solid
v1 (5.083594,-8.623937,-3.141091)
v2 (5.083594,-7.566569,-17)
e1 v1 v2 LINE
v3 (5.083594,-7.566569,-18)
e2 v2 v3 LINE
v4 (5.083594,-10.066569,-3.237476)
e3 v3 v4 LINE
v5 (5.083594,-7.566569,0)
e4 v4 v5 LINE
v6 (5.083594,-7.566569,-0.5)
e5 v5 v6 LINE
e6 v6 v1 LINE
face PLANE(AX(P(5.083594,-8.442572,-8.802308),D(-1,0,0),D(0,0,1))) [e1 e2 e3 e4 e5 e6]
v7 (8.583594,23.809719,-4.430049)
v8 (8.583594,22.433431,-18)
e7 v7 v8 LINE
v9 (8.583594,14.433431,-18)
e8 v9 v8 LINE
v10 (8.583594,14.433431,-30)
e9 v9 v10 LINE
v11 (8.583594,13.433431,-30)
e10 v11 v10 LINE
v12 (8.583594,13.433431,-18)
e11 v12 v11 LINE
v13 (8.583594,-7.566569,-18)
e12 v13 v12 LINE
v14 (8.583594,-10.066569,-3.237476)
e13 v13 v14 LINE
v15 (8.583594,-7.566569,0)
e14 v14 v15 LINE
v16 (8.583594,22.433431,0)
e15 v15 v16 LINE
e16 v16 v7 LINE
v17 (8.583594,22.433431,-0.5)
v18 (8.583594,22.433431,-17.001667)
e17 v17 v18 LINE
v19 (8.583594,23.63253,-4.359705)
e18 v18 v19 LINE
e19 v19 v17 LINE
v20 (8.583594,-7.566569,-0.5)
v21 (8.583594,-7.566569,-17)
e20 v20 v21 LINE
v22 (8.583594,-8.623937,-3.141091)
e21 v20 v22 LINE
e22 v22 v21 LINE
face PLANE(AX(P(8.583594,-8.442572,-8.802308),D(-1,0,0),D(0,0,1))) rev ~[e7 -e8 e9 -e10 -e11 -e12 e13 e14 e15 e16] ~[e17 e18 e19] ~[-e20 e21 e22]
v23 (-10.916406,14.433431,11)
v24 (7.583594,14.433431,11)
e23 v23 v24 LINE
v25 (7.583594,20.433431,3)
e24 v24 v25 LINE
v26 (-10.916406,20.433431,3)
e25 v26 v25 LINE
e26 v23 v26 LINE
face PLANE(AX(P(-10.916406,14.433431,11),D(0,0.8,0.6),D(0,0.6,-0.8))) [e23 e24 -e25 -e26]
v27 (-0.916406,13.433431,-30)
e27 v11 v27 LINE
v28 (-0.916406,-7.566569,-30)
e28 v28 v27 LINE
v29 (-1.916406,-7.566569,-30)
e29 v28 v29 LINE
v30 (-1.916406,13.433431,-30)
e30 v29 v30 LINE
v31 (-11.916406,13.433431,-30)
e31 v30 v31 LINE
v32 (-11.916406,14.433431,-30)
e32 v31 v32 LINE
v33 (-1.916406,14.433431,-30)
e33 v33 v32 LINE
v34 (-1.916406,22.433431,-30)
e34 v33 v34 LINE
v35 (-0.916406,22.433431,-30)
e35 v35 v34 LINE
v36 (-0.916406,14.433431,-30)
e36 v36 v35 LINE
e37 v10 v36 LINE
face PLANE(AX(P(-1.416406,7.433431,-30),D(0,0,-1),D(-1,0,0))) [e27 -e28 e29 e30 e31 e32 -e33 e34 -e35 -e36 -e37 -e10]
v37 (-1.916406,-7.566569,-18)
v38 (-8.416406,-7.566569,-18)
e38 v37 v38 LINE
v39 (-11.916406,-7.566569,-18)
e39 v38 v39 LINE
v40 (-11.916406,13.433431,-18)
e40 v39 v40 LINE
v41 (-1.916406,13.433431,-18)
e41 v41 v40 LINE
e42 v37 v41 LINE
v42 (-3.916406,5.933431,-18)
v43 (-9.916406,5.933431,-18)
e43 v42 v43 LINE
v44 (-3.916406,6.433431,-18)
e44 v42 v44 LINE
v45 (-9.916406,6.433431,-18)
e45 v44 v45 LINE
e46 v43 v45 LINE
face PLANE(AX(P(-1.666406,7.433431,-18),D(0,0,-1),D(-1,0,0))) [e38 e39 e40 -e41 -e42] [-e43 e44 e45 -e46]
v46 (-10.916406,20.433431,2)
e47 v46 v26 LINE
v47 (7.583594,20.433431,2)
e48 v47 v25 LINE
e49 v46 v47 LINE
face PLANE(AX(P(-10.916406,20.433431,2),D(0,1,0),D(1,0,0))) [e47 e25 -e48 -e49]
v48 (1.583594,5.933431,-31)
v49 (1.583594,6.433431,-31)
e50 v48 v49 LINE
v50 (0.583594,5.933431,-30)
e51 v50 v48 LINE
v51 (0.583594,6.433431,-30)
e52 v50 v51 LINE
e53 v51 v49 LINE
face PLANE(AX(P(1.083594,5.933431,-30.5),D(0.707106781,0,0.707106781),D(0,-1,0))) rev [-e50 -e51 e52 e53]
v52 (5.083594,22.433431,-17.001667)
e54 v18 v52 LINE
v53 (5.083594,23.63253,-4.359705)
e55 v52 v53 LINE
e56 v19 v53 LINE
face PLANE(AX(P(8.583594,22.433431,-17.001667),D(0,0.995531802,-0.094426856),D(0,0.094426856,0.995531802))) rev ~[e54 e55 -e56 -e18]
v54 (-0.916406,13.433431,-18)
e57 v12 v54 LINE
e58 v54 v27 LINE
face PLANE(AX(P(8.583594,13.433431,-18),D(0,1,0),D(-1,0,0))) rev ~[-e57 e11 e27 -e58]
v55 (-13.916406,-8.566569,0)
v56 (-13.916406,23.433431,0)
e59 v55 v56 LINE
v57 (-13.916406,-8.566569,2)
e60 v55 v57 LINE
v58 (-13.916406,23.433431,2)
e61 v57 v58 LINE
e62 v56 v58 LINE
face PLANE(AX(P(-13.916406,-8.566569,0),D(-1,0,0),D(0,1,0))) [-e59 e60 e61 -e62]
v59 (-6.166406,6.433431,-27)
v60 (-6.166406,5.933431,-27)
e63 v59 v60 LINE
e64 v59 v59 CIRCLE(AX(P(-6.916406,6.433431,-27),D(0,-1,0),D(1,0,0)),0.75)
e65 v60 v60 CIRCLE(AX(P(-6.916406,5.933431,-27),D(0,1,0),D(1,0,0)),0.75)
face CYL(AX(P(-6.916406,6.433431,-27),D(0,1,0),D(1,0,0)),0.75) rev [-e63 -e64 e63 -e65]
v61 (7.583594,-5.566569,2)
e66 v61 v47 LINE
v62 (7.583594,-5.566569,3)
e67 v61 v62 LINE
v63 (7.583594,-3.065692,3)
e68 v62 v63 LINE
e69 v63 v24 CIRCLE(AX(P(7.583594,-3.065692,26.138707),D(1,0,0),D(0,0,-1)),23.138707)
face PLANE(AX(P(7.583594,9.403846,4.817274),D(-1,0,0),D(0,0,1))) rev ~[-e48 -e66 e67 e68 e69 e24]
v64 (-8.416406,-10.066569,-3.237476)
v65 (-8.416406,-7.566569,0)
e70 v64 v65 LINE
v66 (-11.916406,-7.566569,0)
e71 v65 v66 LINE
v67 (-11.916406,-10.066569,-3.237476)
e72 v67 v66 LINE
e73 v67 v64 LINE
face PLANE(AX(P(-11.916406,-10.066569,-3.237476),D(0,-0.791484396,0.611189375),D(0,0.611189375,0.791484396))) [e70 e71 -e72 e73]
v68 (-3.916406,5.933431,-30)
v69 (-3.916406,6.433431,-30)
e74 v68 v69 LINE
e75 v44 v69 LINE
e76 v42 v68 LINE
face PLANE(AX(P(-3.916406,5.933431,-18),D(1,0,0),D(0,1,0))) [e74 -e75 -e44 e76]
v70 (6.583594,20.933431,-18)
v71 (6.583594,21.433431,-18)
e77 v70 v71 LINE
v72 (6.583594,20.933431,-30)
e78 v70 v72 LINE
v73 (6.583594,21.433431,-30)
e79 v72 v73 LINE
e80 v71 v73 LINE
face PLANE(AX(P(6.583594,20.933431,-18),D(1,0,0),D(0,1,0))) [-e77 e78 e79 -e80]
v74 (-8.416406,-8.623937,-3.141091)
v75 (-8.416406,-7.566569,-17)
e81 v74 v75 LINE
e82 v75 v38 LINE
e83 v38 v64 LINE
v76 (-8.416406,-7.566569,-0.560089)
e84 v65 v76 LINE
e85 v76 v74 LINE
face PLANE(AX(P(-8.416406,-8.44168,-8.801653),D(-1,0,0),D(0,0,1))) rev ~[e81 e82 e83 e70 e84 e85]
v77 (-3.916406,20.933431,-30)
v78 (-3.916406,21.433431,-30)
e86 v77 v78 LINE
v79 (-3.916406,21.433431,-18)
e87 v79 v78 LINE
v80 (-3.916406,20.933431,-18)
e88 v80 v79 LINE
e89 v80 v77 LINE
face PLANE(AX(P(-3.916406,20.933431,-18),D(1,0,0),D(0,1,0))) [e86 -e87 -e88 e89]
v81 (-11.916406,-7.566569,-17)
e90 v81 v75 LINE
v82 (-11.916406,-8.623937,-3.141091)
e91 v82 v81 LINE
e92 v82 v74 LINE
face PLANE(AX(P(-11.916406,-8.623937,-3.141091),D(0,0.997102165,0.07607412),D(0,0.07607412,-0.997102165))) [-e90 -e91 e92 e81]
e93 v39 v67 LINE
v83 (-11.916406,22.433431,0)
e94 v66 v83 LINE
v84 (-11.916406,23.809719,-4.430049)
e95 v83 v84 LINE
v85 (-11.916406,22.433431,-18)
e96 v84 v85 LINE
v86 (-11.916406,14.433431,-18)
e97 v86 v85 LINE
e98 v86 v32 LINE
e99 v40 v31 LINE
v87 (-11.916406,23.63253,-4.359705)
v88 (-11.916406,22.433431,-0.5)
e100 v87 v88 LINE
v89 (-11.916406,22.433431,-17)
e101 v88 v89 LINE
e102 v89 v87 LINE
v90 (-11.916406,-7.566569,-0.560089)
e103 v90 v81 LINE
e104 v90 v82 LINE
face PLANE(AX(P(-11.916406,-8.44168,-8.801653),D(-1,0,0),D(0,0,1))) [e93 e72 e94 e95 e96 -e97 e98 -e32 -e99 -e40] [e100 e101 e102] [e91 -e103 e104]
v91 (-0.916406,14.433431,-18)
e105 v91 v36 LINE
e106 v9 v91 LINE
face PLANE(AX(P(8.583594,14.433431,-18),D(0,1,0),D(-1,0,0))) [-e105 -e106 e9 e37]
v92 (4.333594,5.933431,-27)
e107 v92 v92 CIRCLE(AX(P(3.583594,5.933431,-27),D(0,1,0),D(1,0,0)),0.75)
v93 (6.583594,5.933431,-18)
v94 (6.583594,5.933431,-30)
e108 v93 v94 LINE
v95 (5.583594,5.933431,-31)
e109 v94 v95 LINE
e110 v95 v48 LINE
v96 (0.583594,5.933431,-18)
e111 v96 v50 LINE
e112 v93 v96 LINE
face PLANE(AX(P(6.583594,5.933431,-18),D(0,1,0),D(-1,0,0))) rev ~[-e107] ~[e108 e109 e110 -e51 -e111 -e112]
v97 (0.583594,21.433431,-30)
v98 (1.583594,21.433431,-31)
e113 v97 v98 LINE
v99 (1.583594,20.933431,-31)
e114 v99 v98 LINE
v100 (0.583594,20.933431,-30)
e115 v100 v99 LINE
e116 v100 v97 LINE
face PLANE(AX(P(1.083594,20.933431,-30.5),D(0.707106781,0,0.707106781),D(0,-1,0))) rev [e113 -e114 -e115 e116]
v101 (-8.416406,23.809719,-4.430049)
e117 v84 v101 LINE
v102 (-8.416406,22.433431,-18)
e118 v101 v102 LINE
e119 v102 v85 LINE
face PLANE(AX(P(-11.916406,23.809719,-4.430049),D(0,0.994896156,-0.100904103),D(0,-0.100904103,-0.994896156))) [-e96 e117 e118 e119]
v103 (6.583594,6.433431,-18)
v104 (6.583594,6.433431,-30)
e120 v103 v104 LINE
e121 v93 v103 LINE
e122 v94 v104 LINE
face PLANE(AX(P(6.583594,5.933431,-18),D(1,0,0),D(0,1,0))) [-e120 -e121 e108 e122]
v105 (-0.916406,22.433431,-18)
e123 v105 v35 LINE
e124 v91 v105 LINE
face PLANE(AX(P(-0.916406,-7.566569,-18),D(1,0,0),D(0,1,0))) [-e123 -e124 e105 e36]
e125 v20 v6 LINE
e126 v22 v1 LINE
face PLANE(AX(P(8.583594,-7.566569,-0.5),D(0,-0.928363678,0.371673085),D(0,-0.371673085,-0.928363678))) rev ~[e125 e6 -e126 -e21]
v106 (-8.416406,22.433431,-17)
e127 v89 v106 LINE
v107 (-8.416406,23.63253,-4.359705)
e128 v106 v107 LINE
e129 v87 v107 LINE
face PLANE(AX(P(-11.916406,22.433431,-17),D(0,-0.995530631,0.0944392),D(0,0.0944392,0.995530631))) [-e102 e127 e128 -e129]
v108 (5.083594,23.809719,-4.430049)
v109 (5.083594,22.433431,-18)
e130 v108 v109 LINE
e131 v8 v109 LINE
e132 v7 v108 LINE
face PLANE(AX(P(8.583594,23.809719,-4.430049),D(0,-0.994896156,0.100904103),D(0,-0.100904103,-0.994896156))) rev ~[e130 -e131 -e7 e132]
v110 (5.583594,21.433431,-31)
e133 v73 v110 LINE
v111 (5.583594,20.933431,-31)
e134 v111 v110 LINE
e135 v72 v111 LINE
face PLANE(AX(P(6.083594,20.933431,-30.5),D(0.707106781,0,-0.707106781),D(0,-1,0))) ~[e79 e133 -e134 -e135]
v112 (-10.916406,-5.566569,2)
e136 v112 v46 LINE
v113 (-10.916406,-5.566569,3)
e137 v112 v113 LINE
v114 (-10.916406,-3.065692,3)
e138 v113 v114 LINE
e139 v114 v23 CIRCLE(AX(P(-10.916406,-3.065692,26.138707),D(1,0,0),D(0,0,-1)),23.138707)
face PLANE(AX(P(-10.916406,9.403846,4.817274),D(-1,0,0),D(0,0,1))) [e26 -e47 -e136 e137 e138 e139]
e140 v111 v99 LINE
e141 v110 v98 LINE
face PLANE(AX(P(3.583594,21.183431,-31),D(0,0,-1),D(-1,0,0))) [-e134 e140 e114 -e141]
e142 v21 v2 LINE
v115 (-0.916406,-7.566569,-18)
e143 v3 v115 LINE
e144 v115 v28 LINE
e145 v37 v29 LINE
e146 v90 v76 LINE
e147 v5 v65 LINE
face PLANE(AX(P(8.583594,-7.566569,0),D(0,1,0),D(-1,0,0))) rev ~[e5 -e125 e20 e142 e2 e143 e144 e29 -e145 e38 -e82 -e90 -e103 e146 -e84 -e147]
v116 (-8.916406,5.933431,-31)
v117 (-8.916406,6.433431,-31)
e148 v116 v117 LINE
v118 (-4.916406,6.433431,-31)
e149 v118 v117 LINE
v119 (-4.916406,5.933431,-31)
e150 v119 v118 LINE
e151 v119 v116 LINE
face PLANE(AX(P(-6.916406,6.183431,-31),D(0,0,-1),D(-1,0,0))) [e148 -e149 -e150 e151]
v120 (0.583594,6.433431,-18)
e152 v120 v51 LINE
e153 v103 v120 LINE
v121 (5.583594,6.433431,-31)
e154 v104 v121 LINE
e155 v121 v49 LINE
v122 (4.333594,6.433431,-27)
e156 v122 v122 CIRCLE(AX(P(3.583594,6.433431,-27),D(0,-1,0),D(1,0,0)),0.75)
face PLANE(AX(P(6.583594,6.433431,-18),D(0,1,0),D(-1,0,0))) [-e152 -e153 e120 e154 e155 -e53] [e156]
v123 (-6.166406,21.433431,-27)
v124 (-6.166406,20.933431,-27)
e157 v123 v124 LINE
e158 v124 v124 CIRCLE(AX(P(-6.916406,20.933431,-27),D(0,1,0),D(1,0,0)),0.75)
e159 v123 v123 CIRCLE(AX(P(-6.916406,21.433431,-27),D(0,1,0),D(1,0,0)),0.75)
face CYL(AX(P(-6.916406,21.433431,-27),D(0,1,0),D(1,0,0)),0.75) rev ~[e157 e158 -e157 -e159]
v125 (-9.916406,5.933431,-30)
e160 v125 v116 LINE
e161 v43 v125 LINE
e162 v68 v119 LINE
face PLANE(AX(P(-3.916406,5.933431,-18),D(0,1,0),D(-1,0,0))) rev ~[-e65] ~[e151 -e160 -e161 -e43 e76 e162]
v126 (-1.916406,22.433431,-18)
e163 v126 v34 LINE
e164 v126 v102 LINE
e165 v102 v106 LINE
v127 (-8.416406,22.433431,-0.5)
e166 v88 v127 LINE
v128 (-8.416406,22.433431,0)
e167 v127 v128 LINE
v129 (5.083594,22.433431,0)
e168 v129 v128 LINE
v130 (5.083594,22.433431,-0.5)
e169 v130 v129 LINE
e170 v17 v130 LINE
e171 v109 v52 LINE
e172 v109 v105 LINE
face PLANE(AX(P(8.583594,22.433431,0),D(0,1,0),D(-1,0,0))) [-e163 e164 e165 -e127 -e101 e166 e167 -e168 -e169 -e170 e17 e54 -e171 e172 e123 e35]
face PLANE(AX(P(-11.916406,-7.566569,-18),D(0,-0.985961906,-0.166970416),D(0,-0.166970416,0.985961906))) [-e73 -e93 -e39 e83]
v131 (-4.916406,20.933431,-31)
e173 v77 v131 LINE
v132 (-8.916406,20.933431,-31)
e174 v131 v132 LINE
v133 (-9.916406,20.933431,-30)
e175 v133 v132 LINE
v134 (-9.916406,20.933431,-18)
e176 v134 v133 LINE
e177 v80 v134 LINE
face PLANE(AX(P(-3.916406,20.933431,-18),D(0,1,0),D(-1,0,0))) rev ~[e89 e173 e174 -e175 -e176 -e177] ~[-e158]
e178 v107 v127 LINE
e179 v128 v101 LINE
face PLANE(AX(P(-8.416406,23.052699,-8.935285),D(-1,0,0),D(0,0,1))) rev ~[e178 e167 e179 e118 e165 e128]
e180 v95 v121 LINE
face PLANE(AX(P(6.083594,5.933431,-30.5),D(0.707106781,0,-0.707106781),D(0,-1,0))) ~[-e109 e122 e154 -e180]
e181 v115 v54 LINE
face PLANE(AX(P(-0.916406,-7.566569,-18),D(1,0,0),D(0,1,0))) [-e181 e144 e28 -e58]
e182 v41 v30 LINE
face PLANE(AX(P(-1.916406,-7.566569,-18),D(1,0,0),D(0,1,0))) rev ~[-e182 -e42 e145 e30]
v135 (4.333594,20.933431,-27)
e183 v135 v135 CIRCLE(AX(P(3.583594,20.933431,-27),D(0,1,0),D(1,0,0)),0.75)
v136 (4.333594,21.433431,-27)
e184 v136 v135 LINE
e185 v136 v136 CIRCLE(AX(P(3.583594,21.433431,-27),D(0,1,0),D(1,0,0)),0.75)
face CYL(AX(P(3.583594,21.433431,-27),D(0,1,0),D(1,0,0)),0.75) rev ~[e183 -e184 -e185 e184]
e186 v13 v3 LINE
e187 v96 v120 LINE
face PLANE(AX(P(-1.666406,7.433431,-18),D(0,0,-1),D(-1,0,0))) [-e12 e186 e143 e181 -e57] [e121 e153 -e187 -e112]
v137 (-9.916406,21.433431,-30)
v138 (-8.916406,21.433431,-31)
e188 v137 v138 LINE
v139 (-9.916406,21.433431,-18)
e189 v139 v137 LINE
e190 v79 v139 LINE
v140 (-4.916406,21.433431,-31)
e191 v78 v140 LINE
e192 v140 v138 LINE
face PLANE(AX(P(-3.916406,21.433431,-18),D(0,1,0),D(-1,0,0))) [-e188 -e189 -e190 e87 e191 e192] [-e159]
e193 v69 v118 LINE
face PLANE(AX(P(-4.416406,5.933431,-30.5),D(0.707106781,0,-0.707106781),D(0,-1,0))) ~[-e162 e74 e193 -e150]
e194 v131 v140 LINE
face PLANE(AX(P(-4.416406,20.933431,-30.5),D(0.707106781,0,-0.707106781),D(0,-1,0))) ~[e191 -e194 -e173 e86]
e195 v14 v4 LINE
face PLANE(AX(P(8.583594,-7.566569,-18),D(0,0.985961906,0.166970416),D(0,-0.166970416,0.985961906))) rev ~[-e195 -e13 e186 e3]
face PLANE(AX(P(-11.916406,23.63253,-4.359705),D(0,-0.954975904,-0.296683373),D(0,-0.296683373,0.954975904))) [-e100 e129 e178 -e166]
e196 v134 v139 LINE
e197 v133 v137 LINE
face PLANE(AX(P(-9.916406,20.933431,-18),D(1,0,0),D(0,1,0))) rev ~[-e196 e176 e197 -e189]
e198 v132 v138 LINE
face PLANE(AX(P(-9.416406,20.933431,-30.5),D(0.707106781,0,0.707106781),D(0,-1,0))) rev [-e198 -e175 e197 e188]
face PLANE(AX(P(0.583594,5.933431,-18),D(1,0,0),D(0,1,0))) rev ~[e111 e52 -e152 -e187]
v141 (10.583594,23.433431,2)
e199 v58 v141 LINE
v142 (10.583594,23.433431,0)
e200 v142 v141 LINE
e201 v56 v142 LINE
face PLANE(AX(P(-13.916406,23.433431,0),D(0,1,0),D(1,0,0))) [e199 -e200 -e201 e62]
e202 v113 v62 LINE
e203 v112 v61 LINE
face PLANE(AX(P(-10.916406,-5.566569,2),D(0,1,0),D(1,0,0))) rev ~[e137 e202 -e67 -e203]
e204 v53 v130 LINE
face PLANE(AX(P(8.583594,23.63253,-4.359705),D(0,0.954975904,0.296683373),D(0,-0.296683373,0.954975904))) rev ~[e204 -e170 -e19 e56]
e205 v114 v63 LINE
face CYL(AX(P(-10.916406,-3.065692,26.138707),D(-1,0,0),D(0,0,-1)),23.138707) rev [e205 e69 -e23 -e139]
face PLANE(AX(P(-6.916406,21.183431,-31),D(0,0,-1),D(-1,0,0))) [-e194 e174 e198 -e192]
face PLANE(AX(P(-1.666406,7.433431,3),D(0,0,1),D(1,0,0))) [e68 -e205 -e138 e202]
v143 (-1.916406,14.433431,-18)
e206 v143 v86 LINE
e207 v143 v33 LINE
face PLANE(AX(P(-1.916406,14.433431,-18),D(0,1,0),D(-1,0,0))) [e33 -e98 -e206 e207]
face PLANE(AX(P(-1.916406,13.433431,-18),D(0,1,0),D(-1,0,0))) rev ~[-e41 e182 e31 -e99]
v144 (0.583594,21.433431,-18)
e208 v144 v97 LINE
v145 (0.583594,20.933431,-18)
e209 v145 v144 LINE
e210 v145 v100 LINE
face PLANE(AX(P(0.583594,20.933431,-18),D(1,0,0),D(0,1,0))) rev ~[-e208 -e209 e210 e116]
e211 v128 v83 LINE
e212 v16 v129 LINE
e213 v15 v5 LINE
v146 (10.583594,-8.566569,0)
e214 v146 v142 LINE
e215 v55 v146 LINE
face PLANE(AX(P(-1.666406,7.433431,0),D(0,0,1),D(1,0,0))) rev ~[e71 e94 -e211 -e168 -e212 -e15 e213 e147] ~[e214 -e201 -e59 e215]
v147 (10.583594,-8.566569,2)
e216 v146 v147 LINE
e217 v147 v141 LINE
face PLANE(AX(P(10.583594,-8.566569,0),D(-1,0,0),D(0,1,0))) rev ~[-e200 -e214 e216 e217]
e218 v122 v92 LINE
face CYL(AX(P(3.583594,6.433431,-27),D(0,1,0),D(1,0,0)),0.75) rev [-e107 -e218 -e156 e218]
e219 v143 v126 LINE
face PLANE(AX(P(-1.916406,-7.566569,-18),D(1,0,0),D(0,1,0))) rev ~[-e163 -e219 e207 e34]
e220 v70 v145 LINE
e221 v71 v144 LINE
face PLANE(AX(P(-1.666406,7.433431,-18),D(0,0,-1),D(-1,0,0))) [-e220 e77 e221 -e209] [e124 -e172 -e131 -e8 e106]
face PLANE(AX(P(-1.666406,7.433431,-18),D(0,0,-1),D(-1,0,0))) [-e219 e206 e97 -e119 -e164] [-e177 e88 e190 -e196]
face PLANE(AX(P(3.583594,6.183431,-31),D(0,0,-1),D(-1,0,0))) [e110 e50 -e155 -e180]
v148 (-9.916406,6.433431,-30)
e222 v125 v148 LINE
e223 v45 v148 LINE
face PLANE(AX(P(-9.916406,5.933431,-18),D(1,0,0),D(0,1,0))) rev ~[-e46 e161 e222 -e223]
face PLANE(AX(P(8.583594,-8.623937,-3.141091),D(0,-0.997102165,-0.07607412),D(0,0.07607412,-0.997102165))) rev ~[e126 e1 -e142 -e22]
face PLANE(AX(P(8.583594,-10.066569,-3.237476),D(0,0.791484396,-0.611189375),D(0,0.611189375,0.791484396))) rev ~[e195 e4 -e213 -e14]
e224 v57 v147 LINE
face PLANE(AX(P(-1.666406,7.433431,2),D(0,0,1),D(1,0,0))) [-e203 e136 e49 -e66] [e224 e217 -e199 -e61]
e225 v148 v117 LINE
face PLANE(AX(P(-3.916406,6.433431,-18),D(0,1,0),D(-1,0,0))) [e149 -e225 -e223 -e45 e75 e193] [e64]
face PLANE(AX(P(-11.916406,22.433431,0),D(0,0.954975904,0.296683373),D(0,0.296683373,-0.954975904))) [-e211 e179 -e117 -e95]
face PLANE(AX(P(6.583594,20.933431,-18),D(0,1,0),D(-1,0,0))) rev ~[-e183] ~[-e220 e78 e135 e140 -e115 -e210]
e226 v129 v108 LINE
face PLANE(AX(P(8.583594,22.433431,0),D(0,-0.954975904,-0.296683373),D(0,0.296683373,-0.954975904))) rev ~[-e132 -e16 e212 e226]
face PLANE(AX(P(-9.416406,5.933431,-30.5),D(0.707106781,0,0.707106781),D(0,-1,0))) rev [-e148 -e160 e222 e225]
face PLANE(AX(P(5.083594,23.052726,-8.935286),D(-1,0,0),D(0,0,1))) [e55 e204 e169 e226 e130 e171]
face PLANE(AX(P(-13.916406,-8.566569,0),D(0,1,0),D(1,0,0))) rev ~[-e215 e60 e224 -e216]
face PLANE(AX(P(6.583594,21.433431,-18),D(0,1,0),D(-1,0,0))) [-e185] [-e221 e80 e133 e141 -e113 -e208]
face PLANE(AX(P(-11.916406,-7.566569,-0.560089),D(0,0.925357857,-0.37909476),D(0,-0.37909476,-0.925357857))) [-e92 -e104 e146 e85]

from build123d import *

# Parameters (mm, degrees)
SKETCH1_W                = 24.5
SKETCH1_H                = 32
EXTRUDE2_DEPTH           = 2
SKETCH2_W                = 20.5
SKETCH2_H                = 30
EXTRUDE3_DEPTH           = 18
SKETCH4_W                = 18.5
SKETCH4_H                = 26
EXTRUDE7_DEPTH           = 1
EXTRUDE8_DEPTH           = 18.5
EXTRUDE9_DEPTH           = 3.5
EXTRUDE10_DEPTH          = 3.5
EXTRUDE11_DEPTH          = 3.5
EXTRUDE12_DEPTH          = 3.5
SKETCH10_W               = 1
SKETCH10_H               = 30
EXTRUDE13_DEPTH          = 12
SKETCH11_W               = 9.5
SKETCH11_H               = 1
SKETCH11_W_2             = 10
EXTRUDE14_DEPTH          = 12
SKETCH12_W               = 6
SKETCH12_H               = 0.5
EXTRUDE15_DEPTH          = 13
CHAMFER1_SIZE            = 1
SKETCH14_R               = 0.75
CUT_EXTRUDE2_DEPTH       = 1
TAGLIO_ESTRUSIONE1_REACH = 18.5
SKETCH13_R               = 0.75


with BuildPart() as part:
    # Sketch1 → Extrude2 (new body)
    with BuildSketch(Plane.XY):
        with Locations((-1.666405536, 7.433431257)):
            Rectangle(SKETCH1_W, SKETCH1_H)
    extrude(amount=EXTRUDE2_DEPTH)

    # Sketch2 → Extrude3 (add)
    with BuildSketch(Plane(origin=(0, 0, 0), x_dir=(-1, 0, 0), z_dir=(0, 0, -1))):
        with Locations((1.666405536, 7.433431257)):
            Rectangle(SKETCH2_W, SKETCH2_H)
    extrude(amount=EXTRUDE3_DEPTH)

    # Sketch4 → Extrude7 (add)
    with BuildSketch(Plane.XY.offset(2)):
        with Locations((-1.666405536, 7.433431257)):
            Rectangle(SKETCH4_W, SKETCH4_H)
    extrude(amount=EXTRUDE7_DEPTH)

    # Sketch5 → Extrude8 (add)
    with BuildSketch(Plane.ZY.offset(10.916405536)):
        with BuildLine():
            Line((3, 20.433431257), (3, -3.065691745))
            ThreePointArc((3, -3.065691745), (5.094825857, 6.554850155), (11, 14.433431257))
            Line((11, 14.433431257), (3, 20.433431257))
        make_face()
    extrude(amount=-EXTRUDE8_DEPTH)

    # Sketch6 → Extrude9 (add)
    with BuildSketch(Plane.ZY.offset(11.916405536)):
        Polygon((-18, 22.433431257), (-17, 22.433431257), (-4.359704833, 23.632529834), (-0.5, 22.433431257), (0, 22.433431257), (-4.430049233, 23.809719331), align=None)
    extrude(amount=-EXTRUDE9_DEPTH)

    # Sketch7 → Extrude10 (add)
    with BuildSketch(Plane(origin=(8.583594464, 0, 0), x_dir=(0, 0, -1), z_dir=(1, 0, 0))):
        Polygon((18, 22.433431257), (17.001667285, 22.433431257), (4.359704833, 23.632529834), (0.5, 22.433431257), (0, 22.433431257), (4.430049233, 23.809719331), align=None)
    extrude(amount=-EXTRUDE10_DEPTH)

    # Sketch8 → Extrude11 (add)
    with BuildSketch(Plane(origin=(8.583594464, 0, 0), x_dir=(0, 0, -1), z_dir=(1, 0, 0))):
        Polygon((0, -7.566568743), (0.5, -7.566568743), (3.14109092, -8.623937135), (17, -7.566568743), (18, -7.566568743), (3.237476094, -10.066568743), align=None)
    extrude(amount=-EXTRUDE11_DEPTH)

    # Sketch9 → Extrude12 (add)
    with BuildSketch(Plane.ZY.offset(11.916405536)):
        Polygon((0, -7.566568743), (-0.56008941, -7.566568743), (-3.14109092, -8.623937135), (-17, -7.566568743), (-18, -7.566568743), (-3.237476094, -10.066568743), align=None)
    extrude(amount=-EXTRUDE12_DEPTH)

    # Sketch10 → Extrude13 (add)
    with BuildSketch(Plane(origin=(0, 0, -18), x_dir=(-1, 0, 0), z_dir=(0, 0, -1))):
        with Locations((1.416405536, 7.433431257)):
            Rectangle(SKETCH10_W, SKETCH10_H)
    extrude(amount=EXTRUDE13_DEPTH)

    # Sketch11 → Extrude14 (add)
    with BuildSketch(Plane(origin=(0, 0, -18), x_dir=(-1, 0, 0), z_dir=(0, 0, -1))):
        with Locations((-3.833594464, 13.933431257)):
            Rectangle(SKETCH11_W, SKETCH11_H)
        with Locations((6.916405536, 13.933431257)):
            Rectangle(SKETCH11_W_2, SKETCH11_H)
    extrude(amount=EXTRUDE14_DEPTH)

    # Sketch12 → Extrude15 (add)
    with BuildSketch(Plane(origin=(0, 0, -18), x_dir=(-1, 0, 0), z_dir=(0, 0, -1))):
        with Locations((-3.583594464, 21.183431257)):
            Rectangle(SKETCH12_W, SKETCH12_H)
        with Locations((6.916405536, 21.183431257)):
            Rectangle(SKETCH12_W, SKETCH12_H)
        with Locations((-3.583594464, 6.183431257)):
            Rectangle(SKETCH12_W, SKETCH12_H)
        with Locations((6.916405536, 6.183431257)):
            Rectangle(SKETCH12_W, SKETCH12_H)
    extrude(amount=EXTRUDE15_DEPTH)

    # Chamfer1
    chamfer1_edges = [part.edges().sort_by_distance(p)[0] for p in [
        (6.583594464, 21.183431257, -31),
        (0.583594464, 21.183431257, -31),
        (-3.916405536, 21.183431257, -31),
        (-9.916405536, 21.183431257, -31),
        (6.583594464, 6.183431257, -31),
        (0.583594464, 6.183431257, -31),
        (-3.916405536, 6.183431257, -31),
        (-9.916405536, 6.183431257, -31),
    ]]
    chamfer(chamfer1_edges, length=CHAMFER1_SIZE)

    # Sketch14 → Cut-Extrude2 (cut)
    with BuildSketch(Plane(origin=(0, 21.433431257, 0), x_dir=(1, 0, 0), z_dir=(0, 1, 0))):
        with Locations((-6.916405536, 27)):
            Circle(SKETCH14_R)
        with Locations((3.583594464, 27)):
            Circle(SKETCH14_R)
    extrude(amount=-CUT_EXTRUDE2_DEPTH, mode=Mode.SUBTRACT)

    # Sketch13 → Taglio-Estrusione1 (cut, up to next)
    with BuildSketch(Plane.XZ.offset(-6.433431257), mode=Mode.PRIVATE) as taglio_estrusione1_sk1:
        with Locations((-6.916405536, -27)):
            Circle(SKETCH13_R)
    taglio_estrusione1_tool1 = extrude(taglio_estrusione1_sk1.sketch, amount=TAGLIO_ESTRUSIONE1_REACH, mode=Mode.PRIVATE) & part.part
    add(taglio_estrusione1_tool1.solids().sort_by_distance((-6.916406, 6.433431, -27))[0], mode=Mode.SUBTRACT)
    # Sketch13 → Taglio-Estrusione1 (cut, up to next)
    with BuildSketch(Plane.XZ.offset(-6.433431257), mode=Mode.PRIVATE) as taglio_estrusione1_sk2:
        with Locations((3.583594464, -27)):
            Circle(SKETCH13_R)
    taglio_estrusione1_tool2 = extrude(taglio_estrusione1_sk2.sketch, amount=TAGLIO_ESTRUSIONE1_REACH, mode=Mode.PRIVATE) & part.part
    add(taglio_estrusione1_tool2.solids().sort_by_distance((3.583594, 6.433431, -27))[0], mode=Mode.SUBTRACT)


solid = part.part
